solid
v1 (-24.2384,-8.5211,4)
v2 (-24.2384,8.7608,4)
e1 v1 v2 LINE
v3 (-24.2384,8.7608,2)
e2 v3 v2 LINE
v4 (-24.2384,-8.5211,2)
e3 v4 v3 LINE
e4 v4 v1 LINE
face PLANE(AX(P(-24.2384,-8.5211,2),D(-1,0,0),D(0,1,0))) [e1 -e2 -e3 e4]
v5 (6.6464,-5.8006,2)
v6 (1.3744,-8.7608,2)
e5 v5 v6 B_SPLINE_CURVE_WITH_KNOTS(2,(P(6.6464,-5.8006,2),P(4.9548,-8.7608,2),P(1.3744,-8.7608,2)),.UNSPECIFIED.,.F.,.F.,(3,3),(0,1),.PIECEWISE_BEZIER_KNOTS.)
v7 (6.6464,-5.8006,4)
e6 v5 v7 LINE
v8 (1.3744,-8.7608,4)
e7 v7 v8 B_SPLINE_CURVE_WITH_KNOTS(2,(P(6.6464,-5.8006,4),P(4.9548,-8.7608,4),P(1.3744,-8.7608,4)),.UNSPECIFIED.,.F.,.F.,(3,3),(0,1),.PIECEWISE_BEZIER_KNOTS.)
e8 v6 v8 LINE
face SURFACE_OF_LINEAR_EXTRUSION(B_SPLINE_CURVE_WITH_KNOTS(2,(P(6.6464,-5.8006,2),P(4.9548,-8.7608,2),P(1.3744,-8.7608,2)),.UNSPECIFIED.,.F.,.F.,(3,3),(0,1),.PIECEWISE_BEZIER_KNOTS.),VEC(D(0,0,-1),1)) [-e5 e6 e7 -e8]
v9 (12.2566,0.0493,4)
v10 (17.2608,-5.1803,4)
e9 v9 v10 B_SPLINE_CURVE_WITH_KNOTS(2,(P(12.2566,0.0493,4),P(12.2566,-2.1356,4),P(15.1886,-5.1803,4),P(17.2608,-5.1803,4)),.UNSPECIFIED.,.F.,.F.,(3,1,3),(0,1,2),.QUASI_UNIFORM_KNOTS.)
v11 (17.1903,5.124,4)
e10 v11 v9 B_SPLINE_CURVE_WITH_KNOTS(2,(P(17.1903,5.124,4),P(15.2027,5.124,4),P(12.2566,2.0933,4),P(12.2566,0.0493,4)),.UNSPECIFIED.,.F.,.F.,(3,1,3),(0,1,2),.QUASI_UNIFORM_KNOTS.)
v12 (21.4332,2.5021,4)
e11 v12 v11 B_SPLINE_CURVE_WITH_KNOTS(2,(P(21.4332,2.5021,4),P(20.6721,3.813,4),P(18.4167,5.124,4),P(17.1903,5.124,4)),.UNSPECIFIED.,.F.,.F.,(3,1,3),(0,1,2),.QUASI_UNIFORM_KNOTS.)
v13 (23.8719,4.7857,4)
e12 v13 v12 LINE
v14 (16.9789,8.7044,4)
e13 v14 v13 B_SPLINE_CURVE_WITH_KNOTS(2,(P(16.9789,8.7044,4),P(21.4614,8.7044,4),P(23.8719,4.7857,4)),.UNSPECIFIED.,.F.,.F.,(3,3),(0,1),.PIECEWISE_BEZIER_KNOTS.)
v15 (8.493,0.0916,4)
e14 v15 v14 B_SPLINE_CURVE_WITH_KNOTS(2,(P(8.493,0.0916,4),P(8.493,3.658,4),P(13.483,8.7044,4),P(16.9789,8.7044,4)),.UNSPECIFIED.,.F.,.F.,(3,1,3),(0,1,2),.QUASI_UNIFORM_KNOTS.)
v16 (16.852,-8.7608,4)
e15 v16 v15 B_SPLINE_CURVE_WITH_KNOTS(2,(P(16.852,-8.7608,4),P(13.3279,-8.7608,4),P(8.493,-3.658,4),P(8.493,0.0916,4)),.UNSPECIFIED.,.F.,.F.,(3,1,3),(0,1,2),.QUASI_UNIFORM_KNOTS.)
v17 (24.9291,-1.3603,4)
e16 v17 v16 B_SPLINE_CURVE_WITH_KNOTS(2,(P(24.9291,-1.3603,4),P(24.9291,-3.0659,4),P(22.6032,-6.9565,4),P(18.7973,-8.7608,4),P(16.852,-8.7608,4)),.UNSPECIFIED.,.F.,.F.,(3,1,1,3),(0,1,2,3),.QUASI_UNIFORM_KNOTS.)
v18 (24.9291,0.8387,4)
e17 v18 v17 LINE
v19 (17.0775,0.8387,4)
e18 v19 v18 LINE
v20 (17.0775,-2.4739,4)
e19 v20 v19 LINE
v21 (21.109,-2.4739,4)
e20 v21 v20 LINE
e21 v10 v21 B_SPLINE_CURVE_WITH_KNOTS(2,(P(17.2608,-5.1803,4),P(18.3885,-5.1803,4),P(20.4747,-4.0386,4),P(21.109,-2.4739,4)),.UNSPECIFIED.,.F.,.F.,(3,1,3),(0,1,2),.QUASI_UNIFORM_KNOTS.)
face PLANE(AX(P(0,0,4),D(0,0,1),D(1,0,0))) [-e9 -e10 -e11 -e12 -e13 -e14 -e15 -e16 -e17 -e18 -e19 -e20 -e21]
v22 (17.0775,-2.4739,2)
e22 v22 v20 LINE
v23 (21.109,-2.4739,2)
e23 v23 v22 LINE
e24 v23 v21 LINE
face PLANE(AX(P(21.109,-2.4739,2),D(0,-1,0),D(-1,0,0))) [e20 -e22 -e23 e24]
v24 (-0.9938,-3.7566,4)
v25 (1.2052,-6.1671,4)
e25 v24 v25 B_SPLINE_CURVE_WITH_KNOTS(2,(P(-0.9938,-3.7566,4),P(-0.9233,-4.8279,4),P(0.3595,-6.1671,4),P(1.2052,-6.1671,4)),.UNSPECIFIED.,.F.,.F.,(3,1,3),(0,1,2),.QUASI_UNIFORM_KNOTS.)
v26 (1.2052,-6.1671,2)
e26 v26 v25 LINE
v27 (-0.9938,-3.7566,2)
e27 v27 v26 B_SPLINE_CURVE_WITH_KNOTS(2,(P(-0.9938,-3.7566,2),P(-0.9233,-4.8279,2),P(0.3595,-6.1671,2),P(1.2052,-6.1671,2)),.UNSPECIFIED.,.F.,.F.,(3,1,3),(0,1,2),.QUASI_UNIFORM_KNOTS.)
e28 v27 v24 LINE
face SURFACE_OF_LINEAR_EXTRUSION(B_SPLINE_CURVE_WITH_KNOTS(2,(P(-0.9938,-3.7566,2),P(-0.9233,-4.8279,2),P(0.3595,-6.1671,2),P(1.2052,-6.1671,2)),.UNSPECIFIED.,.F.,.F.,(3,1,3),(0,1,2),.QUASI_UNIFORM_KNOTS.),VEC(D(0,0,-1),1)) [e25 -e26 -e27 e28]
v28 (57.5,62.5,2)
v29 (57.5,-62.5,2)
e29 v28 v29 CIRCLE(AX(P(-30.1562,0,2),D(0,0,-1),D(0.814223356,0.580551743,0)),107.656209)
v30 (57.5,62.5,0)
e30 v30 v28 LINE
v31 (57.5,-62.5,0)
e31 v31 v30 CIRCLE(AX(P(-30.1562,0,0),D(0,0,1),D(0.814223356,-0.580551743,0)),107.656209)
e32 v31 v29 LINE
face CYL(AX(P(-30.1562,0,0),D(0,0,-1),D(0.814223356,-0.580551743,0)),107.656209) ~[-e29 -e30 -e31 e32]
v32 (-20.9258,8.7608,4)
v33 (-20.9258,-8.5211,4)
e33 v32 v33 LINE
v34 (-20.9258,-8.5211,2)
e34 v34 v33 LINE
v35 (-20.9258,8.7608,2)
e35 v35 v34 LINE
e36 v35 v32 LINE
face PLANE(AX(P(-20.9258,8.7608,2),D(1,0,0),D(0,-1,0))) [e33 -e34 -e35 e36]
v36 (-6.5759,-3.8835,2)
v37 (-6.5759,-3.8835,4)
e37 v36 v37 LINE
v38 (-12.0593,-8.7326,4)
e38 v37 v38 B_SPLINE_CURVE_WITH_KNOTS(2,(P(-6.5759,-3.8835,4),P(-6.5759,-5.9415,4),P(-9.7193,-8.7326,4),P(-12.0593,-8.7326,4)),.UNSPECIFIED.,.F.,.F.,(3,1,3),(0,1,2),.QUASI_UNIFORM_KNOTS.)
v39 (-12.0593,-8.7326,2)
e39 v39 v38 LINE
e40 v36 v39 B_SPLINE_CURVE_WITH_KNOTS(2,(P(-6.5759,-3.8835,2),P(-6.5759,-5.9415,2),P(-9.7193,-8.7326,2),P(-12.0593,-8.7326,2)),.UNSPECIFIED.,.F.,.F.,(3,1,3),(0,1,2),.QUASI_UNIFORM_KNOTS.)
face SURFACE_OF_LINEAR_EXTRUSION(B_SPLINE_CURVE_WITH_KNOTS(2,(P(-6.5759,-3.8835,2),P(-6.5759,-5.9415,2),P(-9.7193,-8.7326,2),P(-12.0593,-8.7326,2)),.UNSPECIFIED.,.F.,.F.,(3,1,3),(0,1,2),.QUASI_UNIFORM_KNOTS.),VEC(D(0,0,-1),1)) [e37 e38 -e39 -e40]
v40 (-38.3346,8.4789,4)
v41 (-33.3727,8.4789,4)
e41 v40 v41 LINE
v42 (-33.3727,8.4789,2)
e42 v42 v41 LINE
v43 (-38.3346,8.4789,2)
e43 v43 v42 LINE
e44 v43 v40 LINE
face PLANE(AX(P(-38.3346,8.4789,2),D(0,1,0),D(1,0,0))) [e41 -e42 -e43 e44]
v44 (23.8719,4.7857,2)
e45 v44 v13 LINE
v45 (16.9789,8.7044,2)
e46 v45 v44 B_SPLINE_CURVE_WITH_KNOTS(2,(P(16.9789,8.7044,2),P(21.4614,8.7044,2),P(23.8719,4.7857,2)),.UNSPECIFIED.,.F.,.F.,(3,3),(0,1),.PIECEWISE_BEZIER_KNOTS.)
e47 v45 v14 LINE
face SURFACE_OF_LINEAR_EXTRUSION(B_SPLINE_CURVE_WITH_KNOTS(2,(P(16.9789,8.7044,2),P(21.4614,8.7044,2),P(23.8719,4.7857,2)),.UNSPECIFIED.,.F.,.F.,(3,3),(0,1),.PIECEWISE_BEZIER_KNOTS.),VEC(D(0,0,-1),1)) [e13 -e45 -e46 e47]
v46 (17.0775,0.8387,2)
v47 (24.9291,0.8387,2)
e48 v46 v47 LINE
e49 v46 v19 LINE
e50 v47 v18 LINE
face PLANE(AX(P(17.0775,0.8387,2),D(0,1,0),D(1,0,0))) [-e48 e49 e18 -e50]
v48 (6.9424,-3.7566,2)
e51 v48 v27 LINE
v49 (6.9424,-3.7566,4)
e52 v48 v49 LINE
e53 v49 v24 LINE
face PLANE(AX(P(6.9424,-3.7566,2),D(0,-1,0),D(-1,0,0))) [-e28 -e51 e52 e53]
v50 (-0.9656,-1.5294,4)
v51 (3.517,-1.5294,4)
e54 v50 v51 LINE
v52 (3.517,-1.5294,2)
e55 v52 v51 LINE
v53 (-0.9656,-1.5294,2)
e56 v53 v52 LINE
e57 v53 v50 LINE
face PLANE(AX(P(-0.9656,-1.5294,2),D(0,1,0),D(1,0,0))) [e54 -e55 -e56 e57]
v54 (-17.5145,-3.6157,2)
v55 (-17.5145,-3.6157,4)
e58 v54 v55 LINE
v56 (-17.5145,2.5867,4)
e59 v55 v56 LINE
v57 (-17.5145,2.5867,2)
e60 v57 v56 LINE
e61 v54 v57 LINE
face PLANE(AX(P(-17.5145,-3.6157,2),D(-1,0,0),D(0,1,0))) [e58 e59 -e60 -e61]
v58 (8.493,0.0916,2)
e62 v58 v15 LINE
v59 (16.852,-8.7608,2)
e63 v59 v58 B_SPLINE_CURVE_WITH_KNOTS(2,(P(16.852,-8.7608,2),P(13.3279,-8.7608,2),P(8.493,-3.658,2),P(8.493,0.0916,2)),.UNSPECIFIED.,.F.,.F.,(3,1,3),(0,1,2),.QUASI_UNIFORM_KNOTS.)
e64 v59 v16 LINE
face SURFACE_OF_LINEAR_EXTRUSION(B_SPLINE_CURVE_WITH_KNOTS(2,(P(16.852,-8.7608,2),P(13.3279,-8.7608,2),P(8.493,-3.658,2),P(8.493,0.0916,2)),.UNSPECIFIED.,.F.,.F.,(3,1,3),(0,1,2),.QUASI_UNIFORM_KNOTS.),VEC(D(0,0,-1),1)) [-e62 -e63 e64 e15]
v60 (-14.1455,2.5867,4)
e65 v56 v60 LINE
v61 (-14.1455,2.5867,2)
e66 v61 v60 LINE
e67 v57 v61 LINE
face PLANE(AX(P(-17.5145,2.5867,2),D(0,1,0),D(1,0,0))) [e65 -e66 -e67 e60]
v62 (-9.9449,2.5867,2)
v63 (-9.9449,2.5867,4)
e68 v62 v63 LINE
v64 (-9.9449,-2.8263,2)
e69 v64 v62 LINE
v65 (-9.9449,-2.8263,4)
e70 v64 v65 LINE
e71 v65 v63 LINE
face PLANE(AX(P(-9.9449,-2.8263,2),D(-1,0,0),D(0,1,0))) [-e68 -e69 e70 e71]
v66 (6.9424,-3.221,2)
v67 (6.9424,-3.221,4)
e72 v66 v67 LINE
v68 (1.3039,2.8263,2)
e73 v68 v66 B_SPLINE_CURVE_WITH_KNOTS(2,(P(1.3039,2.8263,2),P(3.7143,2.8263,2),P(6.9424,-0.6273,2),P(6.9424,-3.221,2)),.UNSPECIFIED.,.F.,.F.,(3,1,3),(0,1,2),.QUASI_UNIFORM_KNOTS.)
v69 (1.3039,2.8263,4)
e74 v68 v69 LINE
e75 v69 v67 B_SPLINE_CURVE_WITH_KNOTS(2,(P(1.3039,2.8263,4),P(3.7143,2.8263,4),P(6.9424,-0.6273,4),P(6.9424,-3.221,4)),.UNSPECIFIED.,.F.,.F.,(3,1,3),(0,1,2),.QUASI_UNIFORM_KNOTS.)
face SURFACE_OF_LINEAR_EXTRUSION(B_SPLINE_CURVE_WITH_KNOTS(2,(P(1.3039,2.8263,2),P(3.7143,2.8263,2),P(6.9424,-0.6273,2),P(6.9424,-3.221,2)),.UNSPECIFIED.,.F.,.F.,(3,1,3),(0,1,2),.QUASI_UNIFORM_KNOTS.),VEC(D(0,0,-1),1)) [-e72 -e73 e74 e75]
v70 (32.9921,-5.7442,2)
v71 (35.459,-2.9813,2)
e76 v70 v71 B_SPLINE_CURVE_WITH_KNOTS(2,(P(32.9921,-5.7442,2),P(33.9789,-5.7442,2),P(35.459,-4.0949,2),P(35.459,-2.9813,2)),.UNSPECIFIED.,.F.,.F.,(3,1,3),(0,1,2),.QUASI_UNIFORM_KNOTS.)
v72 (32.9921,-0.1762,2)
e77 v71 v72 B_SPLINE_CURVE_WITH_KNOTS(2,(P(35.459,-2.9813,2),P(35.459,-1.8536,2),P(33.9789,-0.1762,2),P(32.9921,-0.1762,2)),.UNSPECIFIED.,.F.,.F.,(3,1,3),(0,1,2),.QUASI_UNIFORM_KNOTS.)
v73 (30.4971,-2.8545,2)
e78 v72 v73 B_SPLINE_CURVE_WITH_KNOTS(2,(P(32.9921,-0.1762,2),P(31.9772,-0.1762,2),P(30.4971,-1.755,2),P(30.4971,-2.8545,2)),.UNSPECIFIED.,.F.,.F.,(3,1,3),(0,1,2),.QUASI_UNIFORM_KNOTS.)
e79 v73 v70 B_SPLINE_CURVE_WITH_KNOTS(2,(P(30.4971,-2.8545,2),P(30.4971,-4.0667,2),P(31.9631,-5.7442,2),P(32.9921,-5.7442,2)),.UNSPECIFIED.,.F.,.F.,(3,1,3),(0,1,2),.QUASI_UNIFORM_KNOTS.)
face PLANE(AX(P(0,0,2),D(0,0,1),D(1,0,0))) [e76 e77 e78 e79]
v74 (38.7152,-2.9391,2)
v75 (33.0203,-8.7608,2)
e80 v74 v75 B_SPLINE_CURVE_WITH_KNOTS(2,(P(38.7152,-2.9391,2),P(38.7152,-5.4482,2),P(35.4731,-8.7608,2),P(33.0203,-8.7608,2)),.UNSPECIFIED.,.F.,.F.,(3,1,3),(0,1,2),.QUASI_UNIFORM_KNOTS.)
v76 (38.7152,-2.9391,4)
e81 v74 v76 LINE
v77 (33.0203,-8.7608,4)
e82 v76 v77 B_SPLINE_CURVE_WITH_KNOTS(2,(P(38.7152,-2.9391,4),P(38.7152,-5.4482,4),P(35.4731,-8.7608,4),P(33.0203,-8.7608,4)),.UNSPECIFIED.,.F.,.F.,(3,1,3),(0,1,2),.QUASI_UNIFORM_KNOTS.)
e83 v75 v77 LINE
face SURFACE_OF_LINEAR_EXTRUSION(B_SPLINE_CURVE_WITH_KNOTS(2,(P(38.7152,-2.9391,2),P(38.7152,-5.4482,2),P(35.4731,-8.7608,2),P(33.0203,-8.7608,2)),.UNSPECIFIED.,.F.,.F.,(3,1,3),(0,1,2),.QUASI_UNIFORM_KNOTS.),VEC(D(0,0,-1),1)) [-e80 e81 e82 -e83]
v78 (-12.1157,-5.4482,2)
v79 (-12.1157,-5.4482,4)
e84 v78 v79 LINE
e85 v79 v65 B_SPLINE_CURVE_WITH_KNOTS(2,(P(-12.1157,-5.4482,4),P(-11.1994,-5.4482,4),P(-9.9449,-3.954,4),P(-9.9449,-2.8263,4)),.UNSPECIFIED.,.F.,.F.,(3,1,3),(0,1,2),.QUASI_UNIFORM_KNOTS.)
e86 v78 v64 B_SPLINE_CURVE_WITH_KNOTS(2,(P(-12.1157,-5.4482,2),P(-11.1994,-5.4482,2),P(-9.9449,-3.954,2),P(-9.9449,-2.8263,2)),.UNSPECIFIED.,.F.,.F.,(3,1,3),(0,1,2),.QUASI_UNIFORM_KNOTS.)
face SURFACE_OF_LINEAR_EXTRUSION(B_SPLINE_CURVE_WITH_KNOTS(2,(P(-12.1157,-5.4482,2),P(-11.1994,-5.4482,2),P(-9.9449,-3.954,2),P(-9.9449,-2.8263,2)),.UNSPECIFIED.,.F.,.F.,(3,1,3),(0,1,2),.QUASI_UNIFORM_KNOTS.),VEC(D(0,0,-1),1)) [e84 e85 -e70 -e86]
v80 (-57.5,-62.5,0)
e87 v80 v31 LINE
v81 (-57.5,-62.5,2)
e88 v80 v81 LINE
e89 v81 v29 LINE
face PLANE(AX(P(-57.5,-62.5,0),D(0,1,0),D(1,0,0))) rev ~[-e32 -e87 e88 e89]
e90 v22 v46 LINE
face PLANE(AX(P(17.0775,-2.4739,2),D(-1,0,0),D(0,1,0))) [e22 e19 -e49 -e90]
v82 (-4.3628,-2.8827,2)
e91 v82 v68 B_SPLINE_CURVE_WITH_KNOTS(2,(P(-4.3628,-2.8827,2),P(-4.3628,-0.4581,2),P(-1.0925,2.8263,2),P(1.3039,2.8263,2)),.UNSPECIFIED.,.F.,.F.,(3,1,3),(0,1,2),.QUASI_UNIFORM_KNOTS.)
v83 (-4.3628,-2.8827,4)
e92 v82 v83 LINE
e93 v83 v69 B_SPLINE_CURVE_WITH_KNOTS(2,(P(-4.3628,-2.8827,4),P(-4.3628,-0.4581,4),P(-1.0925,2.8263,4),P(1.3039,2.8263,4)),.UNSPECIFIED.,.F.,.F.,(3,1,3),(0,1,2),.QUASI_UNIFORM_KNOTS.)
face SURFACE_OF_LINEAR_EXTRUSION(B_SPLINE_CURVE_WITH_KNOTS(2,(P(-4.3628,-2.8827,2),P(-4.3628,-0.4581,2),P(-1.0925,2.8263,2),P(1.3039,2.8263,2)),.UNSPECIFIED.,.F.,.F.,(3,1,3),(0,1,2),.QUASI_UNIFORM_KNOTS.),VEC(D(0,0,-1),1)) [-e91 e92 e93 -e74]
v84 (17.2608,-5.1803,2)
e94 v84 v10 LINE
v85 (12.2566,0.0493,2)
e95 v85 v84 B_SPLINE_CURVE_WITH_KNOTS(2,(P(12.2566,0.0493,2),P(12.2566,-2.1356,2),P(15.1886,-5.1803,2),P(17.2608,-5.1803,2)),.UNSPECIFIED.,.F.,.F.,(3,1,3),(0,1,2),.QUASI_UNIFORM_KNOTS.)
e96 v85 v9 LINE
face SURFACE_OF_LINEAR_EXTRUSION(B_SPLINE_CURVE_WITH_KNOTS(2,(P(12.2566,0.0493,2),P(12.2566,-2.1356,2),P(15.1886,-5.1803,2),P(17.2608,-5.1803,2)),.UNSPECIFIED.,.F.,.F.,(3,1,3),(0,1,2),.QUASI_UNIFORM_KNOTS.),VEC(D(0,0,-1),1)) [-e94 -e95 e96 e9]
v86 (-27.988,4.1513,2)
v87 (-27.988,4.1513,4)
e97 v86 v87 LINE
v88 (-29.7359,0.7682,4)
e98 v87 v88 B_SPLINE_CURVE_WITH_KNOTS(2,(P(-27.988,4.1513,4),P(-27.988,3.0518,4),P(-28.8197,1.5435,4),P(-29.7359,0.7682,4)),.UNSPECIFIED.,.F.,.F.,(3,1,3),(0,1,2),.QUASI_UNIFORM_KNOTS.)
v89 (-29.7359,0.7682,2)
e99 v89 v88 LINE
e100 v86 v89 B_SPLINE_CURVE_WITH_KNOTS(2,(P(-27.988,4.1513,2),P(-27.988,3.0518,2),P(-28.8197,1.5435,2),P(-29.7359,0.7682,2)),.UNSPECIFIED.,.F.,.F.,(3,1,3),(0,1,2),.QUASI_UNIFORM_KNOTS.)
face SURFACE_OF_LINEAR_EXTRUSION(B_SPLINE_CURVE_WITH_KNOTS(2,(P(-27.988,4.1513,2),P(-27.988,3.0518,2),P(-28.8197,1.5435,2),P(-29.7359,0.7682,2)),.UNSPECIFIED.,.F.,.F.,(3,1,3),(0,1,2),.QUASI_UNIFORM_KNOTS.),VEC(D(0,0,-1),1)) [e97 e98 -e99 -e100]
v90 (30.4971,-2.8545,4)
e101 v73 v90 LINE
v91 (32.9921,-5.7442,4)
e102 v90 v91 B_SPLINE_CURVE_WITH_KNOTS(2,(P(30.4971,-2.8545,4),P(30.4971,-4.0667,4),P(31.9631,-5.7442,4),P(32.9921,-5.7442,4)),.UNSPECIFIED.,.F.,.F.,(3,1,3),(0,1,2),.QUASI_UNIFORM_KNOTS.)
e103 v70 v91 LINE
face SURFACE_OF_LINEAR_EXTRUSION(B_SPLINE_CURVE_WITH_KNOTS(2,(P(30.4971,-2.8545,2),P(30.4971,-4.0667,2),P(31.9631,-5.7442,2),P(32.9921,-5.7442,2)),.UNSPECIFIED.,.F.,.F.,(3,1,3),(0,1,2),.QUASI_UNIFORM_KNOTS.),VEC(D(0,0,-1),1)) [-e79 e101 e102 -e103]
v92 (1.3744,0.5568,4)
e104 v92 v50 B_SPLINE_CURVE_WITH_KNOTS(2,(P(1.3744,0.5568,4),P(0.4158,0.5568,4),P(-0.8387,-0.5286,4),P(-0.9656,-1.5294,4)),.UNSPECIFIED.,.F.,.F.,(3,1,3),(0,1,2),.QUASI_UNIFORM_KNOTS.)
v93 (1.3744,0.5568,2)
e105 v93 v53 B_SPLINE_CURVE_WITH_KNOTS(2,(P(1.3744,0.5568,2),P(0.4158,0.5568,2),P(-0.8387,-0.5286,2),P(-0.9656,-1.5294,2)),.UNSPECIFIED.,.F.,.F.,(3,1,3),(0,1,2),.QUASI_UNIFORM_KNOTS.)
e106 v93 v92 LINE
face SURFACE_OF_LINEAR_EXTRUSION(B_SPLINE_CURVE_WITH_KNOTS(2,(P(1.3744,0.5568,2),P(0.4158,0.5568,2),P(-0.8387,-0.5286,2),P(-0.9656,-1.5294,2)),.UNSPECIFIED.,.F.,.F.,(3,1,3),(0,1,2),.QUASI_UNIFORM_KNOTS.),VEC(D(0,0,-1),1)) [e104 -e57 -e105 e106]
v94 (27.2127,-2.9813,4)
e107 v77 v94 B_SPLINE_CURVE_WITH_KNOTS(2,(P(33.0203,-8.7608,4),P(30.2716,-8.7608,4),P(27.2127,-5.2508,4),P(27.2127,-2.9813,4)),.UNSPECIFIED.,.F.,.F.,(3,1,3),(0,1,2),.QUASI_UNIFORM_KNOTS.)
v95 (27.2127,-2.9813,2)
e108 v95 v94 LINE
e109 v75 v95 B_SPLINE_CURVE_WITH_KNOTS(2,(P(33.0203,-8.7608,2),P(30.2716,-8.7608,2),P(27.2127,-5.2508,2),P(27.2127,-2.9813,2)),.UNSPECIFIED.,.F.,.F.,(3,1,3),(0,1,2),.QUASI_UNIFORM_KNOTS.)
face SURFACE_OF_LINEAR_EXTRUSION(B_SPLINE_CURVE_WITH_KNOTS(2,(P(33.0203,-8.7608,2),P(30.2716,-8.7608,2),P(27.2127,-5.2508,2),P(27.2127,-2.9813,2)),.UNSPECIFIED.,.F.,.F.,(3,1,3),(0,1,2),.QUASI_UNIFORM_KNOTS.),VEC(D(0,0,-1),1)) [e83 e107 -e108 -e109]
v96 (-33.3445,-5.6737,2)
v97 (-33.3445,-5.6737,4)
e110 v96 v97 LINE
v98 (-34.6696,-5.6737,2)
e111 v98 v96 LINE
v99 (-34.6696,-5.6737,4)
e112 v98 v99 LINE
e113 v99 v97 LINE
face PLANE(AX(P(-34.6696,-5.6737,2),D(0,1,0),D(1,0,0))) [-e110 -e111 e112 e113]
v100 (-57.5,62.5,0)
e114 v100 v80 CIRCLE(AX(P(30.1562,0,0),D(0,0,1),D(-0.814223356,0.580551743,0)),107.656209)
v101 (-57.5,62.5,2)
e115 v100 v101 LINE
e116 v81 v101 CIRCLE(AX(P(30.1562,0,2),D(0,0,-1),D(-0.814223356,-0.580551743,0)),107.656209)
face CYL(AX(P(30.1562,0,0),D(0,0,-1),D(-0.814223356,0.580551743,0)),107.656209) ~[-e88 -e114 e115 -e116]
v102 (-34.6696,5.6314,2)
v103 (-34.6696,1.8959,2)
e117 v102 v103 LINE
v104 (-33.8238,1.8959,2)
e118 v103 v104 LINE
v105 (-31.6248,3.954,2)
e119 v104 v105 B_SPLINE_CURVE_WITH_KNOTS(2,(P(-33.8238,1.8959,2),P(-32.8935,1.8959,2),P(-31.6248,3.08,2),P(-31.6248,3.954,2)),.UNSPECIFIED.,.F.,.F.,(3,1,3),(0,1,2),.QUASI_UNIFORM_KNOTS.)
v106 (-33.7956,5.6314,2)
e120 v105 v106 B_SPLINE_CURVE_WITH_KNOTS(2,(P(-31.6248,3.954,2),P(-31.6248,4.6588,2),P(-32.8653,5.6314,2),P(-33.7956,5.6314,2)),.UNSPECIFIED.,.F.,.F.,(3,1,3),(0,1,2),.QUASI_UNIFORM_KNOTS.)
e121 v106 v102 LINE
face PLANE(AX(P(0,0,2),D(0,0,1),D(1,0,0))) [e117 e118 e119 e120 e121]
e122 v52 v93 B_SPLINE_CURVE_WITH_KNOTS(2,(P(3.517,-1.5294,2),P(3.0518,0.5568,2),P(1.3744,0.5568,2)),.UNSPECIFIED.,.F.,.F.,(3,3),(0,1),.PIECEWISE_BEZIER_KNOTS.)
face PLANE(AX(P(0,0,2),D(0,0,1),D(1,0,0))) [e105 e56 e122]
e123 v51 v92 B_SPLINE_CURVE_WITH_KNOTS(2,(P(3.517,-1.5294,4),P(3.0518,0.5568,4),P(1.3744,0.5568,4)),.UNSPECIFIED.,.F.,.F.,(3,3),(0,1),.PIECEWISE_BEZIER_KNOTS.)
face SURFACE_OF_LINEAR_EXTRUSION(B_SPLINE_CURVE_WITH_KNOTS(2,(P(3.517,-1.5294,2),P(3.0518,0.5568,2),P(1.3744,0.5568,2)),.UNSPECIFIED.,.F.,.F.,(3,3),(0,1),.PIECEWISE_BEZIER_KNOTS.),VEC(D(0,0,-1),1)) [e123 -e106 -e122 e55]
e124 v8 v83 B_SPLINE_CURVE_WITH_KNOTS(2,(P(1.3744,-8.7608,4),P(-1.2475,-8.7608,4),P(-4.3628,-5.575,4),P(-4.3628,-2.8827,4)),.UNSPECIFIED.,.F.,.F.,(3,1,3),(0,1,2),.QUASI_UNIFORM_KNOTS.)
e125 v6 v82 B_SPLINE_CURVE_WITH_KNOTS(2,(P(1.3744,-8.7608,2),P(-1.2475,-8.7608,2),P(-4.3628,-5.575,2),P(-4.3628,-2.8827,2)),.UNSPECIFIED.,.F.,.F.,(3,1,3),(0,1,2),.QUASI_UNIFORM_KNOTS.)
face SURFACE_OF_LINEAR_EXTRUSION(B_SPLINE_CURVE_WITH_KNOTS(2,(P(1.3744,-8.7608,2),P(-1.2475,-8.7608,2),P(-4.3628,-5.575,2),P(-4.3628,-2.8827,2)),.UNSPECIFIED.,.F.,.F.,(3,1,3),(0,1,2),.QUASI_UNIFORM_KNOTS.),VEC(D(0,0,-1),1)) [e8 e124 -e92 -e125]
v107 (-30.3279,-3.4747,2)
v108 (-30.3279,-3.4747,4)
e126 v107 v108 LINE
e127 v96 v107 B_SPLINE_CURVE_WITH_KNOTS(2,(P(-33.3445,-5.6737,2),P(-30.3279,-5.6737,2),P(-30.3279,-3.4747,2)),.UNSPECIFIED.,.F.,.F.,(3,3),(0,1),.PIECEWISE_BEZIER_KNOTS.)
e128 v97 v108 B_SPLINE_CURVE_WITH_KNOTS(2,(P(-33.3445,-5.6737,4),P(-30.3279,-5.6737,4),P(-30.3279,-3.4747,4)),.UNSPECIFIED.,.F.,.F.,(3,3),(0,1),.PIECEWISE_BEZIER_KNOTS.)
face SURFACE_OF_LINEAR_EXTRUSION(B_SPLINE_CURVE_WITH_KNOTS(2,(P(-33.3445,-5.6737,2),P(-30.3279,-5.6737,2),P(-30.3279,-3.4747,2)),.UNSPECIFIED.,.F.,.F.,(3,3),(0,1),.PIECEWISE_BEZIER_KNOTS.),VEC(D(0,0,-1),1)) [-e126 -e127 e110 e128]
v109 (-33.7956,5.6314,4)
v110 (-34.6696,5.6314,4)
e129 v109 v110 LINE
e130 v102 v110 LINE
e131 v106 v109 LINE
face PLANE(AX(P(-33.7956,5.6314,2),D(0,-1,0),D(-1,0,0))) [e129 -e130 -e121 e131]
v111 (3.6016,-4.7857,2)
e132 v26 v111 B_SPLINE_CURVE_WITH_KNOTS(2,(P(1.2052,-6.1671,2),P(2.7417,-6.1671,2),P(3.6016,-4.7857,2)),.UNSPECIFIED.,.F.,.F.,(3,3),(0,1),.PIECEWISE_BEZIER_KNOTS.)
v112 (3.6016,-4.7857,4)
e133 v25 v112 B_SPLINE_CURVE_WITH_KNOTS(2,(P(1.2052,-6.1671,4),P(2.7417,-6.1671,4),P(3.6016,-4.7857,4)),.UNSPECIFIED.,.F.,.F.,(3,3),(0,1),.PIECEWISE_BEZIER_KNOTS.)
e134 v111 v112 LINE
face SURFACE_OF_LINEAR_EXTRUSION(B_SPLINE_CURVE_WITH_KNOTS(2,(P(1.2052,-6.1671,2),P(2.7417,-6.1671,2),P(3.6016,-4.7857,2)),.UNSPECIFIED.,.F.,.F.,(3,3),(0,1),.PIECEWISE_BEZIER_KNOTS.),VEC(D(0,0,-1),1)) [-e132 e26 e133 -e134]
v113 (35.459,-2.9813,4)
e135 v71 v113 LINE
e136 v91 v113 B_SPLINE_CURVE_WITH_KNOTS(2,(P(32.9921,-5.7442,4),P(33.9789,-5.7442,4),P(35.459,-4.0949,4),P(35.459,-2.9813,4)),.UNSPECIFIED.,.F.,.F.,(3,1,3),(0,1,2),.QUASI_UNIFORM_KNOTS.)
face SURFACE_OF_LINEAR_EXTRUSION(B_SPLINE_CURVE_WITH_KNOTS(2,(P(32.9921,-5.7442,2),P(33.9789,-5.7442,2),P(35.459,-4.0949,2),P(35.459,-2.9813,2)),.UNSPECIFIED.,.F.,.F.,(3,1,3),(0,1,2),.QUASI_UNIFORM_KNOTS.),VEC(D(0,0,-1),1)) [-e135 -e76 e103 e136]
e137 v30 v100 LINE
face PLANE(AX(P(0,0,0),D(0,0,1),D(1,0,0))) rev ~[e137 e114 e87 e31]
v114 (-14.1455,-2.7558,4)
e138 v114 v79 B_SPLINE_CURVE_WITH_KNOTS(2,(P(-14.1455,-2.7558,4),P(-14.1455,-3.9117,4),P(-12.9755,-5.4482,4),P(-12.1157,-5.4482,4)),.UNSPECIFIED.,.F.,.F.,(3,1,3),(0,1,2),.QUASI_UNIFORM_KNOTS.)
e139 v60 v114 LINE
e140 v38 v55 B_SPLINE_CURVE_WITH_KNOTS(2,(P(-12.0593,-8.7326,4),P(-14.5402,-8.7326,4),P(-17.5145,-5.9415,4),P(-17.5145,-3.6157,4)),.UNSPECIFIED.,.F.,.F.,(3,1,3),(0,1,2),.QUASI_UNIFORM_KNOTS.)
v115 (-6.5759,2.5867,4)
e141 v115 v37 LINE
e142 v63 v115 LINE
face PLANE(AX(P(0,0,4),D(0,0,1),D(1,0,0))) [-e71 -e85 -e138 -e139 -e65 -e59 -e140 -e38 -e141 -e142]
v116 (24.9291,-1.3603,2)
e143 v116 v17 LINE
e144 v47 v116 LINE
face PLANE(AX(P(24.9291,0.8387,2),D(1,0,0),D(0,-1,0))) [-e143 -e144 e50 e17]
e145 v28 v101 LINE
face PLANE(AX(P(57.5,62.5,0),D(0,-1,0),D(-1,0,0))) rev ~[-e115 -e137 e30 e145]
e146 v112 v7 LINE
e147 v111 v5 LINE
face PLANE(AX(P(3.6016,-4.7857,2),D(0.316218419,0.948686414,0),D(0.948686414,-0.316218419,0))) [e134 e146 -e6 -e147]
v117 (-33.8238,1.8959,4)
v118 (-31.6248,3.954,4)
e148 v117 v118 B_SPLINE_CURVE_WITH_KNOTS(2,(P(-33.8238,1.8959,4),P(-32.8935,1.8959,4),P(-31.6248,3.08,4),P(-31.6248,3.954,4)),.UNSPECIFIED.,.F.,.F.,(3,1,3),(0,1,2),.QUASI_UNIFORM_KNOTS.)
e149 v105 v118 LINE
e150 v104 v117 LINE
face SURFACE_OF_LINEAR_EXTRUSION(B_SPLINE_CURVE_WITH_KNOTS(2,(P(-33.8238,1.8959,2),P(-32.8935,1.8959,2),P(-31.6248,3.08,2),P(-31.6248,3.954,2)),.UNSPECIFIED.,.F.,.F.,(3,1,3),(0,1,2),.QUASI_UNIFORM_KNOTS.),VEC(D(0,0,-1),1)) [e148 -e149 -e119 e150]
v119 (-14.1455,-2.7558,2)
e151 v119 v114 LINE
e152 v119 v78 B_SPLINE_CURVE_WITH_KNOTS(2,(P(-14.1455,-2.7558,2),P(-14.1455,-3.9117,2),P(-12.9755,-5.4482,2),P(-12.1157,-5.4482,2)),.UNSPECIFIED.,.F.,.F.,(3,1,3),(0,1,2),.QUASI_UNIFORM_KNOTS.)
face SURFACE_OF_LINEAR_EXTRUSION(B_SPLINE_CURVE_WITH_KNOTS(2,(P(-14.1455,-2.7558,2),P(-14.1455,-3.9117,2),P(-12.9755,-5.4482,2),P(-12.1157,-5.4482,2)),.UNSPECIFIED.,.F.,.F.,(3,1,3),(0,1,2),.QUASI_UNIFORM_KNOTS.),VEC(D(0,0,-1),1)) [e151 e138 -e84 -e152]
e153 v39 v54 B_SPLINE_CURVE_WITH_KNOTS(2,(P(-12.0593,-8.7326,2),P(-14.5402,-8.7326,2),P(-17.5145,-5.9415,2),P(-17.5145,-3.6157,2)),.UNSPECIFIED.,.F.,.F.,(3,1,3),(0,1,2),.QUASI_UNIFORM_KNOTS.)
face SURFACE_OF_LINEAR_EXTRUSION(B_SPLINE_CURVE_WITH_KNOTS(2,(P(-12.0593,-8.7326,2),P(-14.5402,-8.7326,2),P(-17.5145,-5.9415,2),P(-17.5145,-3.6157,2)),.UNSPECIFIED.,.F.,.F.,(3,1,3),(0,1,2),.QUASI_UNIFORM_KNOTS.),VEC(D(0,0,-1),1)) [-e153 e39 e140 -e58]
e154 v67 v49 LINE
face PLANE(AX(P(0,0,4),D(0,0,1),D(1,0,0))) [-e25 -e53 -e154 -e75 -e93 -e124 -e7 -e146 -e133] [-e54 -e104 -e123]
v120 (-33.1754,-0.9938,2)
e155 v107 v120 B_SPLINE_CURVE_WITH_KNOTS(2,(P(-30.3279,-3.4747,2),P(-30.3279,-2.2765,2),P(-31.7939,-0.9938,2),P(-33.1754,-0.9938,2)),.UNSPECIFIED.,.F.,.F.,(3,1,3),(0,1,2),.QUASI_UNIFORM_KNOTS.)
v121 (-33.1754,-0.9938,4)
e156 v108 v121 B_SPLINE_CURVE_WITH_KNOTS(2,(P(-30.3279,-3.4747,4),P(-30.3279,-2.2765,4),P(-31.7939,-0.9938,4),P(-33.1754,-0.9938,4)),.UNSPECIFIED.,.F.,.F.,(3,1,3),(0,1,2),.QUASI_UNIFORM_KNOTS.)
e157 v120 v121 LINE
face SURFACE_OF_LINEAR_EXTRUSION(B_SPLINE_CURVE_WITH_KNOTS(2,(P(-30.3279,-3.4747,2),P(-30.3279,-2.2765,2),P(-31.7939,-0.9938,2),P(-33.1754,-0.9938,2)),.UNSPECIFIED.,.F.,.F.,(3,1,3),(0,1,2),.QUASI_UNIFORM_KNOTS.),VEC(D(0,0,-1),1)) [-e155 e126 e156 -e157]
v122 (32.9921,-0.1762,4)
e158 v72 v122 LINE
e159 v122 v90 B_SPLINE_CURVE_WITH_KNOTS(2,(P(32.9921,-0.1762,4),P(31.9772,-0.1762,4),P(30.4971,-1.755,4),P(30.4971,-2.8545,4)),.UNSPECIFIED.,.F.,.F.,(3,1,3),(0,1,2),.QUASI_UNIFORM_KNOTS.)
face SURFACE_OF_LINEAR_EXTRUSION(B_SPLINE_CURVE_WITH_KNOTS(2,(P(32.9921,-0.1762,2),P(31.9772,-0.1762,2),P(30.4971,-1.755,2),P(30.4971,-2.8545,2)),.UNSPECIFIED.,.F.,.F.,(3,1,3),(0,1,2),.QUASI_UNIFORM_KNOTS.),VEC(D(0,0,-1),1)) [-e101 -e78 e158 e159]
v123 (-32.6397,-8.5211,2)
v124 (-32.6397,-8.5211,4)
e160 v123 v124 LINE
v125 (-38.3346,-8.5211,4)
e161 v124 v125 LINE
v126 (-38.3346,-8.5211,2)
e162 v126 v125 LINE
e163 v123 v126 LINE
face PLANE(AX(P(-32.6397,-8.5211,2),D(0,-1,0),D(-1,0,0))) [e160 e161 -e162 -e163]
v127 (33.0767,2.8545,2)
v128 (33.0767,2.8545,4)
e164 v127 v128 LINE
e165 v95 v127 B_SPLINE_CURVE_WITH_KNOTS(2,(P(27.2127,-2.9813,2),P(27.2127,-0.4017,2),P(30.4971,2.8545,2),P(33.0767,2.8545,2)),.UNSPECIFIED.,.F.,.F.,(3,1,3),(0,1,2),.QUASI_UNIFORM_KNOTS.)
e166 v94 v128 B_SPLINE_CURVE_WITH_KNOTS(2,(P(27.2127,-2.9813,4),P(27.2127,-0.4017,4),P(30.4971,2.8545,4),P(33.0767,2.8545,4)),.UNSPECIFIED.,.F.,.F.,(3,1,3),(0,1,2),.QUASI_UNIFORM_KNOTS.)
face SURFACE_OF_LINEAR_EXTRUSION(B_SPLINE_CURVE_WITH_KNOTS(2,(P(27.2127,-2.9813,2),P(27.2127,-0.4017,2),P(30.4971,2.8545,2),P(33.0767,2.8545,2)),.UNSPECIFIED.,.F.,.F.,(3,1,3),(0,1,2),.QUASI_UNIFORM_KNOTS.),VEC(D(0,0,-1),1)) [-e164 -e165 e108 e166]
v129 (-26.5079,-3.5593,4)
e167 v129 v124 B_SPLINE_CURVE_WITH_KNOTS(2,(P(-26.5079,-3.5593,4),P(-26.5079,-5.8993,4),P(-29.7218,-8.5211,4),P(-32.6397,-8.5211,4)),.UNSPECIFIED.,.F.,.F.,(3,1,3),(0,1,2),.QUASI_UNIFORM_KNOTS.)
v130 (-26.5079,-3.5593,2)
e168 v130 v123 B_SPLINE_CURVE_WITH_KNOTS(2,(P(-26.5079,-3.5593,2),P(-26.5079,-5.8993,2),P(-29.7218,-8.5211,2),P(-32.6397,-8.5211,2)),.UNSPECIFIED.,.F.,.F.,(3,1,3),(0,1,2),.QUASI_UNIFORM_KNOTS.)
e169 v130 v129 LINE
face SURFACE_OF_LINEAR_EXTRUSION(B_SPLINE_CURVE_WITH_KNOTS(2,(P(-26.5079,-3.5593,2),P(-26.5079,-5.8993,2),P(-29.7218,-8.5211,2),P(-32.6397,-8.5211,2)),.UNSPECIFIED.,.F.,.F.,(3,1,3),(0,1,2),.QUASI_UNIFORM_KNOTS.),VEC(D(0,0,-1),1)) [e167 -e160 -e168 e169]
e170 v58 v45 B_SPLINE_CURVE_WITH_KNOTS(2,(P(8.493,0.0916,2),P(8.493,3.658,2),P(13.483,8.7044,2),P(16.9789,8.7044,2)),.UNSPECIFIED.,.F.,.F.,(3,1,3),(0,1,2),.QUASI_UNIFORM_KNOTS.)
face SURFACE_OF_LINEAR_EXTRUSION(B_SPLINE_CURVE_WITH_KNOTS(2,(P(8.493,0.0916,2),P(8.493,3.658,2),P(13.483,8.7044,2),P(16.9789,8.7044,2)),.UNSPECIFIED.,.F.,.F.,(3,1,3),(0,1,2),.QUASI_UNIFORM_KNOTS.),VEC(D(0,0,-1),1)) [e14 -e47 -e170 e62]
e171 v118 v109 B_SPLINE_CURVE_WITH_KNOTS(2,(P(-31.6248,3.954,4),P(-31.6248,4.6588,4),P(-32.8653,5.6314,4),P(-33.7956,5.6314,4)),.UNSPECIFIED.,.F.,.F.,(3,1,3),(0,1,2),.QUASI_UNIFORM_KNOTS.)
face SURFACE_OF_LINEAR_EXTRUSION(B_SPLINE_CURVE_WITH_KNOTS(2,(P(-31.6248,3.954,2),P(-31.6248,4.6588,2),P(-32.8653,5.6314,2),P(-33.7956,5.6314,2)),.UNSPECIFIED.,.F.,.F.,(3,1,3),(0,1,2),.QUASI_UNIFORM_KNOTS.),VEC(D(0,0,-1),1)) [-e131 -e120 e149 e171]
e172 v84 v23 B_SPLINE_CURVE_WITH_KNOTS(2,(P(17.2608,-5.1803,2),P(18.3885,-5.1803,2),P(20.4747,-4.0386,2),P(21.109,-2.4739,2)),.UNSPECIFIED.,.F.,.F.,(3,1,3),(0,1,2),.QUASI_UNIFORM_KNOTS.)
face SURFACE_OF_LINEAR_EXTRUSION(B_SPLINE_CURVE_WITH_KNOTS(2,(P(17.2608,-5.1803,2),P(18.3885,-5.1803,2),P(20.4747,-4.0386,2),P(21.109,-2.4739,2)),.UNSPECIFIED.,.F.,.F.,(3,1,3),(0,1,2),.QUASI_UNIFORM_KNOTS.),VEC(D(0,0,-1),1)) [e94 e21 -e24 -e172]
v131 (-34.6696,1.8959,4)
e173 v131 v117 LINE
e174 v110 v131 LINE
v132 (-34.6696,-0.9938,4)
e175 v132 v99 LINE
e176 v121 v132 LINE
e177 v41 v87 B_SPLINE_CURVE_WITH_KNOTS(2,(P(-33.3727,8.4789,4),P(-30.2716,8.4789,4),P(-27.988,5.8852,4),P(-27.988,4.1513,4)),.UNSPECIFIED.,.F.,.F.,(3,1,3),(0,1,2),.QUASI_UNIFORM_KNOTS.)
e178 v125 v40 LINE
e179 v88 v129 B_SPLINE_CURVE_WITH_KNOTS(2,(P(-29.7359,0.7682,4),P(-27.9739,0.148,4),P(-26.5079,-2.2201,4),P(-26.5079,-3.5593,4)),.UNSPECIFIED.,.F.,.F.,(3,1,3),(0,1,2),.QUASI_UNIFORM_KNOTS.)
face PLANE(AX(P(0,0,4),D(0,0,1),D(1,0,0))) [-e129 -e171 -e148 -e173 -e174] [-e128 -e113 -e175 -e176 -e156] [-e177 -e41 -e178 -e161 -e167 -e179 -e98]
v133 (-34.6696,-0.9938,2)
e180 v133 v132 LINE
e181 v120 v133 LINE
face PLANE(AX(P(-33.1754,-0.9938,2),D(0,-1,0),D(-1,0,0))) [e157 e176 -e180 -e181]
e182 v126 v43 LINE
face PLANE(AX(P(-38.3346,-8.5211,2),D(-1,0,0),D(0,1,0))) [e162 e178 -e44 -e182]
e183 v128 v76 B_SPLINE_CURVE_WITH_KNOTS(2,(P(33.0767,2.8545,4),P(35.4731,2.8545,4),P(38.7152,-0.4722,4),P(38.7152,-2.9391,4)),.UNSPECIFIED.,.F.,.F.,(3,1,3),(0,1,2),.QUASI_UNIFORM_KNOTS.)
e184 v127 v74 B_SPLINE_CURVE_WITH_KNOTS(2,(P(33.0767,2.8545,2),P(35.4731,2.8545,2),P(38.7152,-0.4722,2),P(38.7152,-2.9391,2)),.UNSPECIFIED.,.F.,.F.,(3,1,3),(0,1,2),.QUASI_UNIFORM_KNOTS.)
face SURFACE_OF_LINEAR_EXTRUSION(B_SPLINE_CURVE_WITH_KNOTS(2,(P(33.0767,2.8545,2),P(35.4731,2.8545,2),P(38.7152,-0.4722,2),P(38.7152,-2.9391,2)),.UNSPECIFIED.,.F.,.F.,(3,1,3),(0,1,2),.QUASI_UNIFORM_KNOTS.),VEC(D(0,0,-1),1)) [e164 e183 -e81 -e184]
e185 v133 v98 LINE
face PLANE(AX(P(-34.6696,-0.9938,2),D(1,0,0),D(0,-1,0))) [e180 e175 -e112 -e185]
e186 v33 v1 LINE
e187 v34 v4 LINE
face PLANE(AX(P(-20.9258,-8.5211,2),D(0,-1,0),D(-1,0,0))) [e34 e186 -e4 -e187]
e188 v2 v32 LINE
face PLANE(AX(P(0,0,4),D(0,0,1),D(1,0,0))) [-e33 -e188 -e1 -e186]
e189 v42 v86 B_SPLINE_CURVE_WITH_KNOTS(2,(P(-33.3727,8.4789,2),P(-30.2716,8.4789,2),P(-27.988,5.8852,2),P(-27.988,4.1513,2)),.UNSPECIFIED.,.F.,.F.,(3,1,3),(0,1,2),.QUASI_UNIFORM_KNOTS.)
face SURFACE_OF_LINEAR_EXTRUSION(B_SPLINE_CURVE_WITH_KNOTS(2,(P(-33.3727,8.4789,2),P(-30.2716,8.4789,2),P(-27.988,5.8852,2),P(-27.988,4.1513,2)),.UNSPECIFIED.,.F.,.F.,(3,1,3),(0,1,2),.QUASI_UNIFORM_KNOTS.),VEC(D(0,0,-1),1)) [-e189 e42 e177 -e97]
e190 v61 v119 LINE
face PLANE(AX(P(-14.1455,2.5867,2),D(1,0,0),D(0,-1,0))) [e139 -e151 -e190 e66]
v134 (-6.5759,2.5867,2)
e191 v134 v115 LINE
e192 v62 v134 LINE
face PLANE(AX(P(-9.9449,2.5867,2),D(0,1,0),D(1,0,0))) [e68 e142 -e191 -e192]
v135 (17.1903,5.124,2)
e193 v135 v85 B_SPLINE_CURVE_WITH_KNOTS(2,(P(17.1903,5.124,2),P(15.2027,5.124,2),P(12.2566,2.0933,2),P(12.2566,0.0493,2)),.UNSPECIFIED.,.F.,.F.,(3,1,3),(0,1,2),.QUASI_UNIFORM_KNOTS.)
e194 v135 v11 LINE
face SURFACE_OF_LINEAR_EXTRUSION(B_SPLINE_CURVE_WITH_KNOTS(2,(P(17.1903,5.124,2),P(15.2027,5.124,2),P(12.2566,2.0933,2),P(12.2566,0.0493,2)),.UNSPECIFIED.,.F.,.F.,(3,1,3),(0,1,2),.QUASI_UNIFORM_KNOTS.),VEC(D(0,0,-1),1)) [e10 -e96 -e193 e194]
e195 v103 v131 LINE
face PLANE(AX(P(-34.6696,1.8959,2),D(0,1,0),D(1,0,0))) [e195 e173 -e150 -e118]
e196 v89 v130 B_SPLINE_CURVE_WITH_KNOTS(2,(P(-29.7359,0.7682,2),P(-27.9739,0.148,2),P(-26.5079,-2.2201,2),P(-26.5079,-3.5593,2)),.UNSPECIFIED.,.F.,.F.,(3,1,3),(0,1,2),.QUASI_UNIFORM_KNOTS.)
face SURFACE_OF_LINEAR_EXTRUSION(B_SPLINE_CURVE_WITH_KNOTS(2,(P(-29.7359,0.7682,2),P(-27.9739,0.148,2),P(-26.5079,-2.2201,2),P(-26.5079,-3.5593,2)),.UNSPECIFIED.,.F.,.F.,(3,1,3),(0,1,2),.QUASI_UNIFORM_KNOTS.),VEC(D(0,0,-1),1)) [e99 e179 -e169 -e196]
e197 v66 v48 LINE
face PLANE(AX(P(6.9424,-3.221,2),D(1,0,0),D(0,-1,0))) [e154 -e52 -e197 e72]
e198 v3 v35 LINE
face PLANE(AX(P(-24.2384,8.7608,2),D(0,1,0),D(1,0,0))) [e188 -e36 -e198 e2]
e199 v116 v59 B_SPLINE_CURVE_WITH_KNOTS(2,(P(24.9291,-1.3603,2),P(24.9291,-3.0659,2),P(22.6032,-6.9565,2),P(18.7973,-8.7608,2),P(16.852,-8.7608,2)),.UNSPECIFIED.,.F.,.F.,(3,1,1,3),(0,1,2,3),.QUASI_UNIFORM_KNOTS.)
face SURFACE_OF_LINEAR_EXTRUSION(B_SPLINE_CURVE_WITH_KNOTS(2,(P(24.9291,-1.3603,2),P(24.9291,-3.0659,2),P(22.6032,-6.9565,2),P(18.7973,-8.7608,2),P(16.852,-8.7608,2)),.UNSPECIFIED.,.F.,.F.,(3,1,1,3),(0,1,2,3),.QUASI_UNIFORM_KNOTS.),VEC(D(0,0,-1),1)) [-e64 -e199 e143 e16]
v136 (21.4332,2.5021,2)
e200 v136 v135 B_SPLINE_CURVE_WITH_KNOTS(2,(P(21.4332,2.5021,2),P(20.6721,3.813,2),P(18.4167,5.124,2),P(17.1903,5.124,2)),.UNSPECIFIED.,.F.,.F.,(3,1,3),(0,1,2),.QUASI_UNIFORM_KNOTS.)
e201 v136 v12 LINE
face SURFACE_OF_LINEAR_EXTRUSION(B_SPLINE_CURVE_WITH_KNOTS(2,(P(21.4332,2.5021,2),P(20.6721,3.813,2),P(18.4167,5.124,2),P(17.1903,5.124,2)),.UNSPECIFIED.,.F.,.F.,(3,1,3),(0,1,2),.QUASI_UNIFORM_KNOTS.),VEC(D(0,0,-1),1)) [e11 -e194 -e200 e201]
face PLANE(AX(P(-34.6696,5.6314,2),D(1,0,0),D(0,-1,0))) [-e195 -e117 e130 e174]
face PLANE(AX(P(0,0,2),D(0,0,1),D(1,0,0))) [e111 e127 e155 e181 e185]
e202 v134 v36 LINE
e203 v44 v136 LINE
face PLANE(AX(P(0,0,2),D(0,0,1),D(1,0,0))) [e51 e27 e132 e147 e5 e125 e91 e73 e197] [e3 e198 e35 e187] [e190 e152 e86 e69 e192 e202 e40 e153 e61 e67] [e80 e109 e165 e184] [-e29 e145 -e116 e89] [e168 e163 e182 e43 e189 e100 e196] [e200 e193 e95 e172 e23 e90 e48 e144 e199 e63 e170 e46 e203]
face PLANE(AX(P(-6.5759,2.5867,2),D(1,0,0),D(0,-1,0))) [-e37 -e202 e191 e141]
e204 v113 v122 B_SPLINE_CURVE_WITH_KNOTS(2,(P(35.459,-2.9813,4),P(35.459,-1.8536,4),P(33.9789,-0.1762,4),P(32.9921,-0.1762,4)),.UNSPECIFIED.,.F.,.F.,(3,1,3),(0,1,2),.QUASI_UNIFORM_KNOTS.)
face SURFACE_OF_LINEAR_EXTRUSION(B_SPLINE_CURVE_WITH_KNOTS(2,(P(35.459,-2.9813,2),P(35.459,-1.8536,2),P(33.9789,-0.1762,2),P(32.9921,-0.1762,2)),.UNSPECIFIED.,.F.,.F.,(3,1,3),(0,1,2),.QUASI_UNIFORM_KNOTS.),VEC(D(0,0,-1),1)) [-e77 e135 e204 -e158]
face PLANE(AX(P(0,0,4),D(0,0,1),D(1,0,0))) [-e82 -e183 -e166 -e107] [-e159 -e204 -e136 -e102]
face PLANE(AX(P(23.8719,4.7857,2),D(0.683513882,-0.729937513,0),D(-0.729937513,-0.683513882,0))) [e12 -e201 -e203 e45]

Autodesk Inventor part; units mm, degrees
ref_plane "YZ Plane" through (0, 0, 0) normal (1, 0, 0) x (0, 1, 0)
ref_plane "XZ Plane" through (0, 0, 0) normal (0, 1, 0) x (-1, 0, 0)
ref_plane "XY Plane" through (0, 0, 0) normal (0, 0, 1) x (1, 0, 0)
sketch "Sketch1" plane through (0, 0, 0) normal (0, 0, 1) x (1, 0, 0)
  line L0 (57.5, 62.5) -> (-57.5, 62.5)
  line L1 (-57.5, 62.5) -> (-57.5, -62.5)
  line L2 (-57.5, -62.5) -> (57.5, -62.5)
  line L3 (57.5, -62.5) -> (57.5, 62.5)
  line L4 (57.5, 62.5) -> (-57.5, -62.5) construction
  line L5 (-57.5, 62.5) -> (57.5, -62.5) construction
  line L6 (57.5, 0) -> (77.5, 0)
  line L7 (-57.5, 0) -> (-77.5, 0)
  arc A0 (-57.5, 62.5) -> (-57.5, -62.5) centre (30.1562, 0) ccw
  arc A1 (57.5, -62.5) -> (57.5, 62.5) centre (-30.1562, 0) ccw
  point P0 (0, 0)
  dimension "d0" = 115
  dimension "d1" = 125
  dimension "d2" = 20
  dimension "d3" = 20
extrude "Extrusion1" add sketch "Sketch1" along normal blind 2
sketch "Sketch2" plane through (0, 0, 2) normal (0, 0, 1) x (1, 0, 0)
  line L0 (-40.012, 8.7608) -> (40.012, 8.7608) construction
  line L1 (40.012, 8.7608) -> (40.012, -8.7608) construction
  line L2 (40.012, -8.7608) -> (-40.012, -8.7608) construction
  line L3 (-40.012, -8.7608) -> (-40.012, 8.7608) construction
  line L4 (-38.3346, 8.4789) -> (-33.3727, 8.4789)
  spline S0 degree 2 poles (-33.3727, 8.4789) (-30.2716, 8.4789) (-27.988, 5.8852) (-27.988, 4.1513) knots 0 0 0 1 2 2 2
  spline S1 degree 2 poles (-27.988, 4.1513) (-27.988, 3.0518) (-28.8197, 1.5435) (-29.7359, 0.7682) knots 0 0 0 1 2 2 2
  spline S2 degree 2 poles (-29.7359, 0.7682) (-27.9739, 0.148) (-26.5079, -2.2201) (-26.5079, -3.5593) knots 0 0 0 1 2 2 2
  spline S3 degree 2 poles (-26.5079, -3.5593) (-26.5079, -5.8993) (-29.7218, -8.5211) (-32.6397, -8.5211) knots 0 0 0 1 2 2 2
  line L5 (-32.6397, -8.5211) -> (-38.3346, -8.5211)
  line L6 (-38.3346, -8.5211) -> (-38.3346, 8.4789)
  line L7 (-34.6696, -0.9938) -> (-34.6696, -5.6737)
  line L8 (-34.6696, -5.6737) -> (-33.3445, -5.6737)
  spline S4 degree 2 poles (-33.3445, -5.6737) (-30.3279, -5.6737) (-30.3279, -3.4747) knots 0 0 0 1 1 1
  spline S5 degree 2 poles (-30.3279, -3.4747) (-30.3279, -2.2765) (-31.7939, -0.9938) (-33.1754, -0.9938) knots 0 0 0 1 2 2 2
  line L9 (-33.1754, -0.9938) -> (-34.6696, -0.9938)
  line L10 (-34.6696, 5.6314) -> (-34.6696, 1.8959)
  line L11 (-34.6696, 1.8959) -> (-33.8238, 1.8959)
  spline S6 degree 2 poles (-33.8238, 1.8959) (-32.8935, 1.8959) (-31.6248, 3.08) (-31.6248, 3.954) knots 0 0 0 1 2 2 2
  spline S7 degree 2 poles (-31.6248, 3.954) (-31.6248, 4.6588) (-32.8653, 5.6314) (-33.7956, 5.6314) knots 0 0 0 1 2 2 2
  line L12 (-33.7956, 5.6314) -> (-34.6696, 5.6314)
  line L13 (-24.2384, 8.7608) -> (-20.9258, 8.7608)
  line L14 (-20.9258, 8.7608) -> (-20.9258, -8.5211)
  line L15 (-20.9258, -8.5211) -> (-24.2384, -8.5211)
  line L16 (-24.2384, -8.5211) -> (-24.2384, 8.7608)
  line L17 (-17.5145, 2.5867) -> (-14.1455, 2.5867)
  line L18 (-14.1455, 2.5867) -> (-14.1455, -2.7558)
  spline S8 degree 2 poles (-14.1455, -2.7558) (-14.1455, -3.9117) (-12.9755, -5.4482) (-12.1157, -5.4482) knots 0 0 0 1 2 2 2
  spline S9 degree 2 poles (-12.1157, -5.4482) (-11.1994, -5.4482) (-9.9449, -3.954) (-9.9449, -2.8263) knots 0 0 0 1 2 2 2
  line L19 (-9.9449, -2.8263) -> (-9.9449, 2.5867)
  line L20 (-9.9449, 2.5867) -> (-6.5759, 2.5867)
  line L21 (-6.5759, 2.5867) -> (-6.5759, -3.8835)
  spline S10 degree 2 poles (-6.5759, -3.8835) (-6.5759, -5.9415) (-9.7193, -8.7326) (-12.0593, -8.7326) knots 0 0 0 1 2 2 2
  spline S11 degree 2 poles (-12.0593, -8.7326) (-14.5402, -8.7326) (-17.5145, -5.9415) (-17.5145, -3.6157) knots 0 0 0 1 2 2 2
  line L22 (-17.5145, -3.6157) -> (-17.5145, 2.5867)
  line L23 (6.9424, -3.7566) -> (-0.9938, -3.7566)
  spline S12 degree 2 poles (-0.9938, -3.7566) (-0.9233, -4.8279) (0.3595, -6.1671) (1.2052, -6.1671) knots 0 0 0 1 2 2 2
  spline S13 degree 2 poles (1.2052, -6.1671) (2.7417, -6.1671) (3.6016, -4.7857) knots 0 0 0 1 1 1
  line L24 (3.6016, -4.7857) -> (6.6464, -5.8006)
  spline S14 degree 2 poles (6.6464, -5.8006) (4.9548, -8.7608) (1.3744, -8.7608) knots 0 0 0 1 1 1
  spline S15 degree 2 poles (1.3744, -8.7608) (-1.2475, -8.7608) (-4.3628, -5.575) (-4.3628, -2.8827) knots 0 0 0 1 2 2 2
  spline S16 degree 2 poles (-4.3628, -2.8827) (-4.3628, -0.4581) (-1.0925, 2.8263) (1.3039, 2.8263) knots 0 0 0 1 2 2 2
  spline S17 degree 2 poles (1.3039, 2.8263) (3.7143, 2.8263) (6.9424, -0.6273) (6.9424, -3.221) knots 0 0 0 1 2 2 2
  line L25 (6.9424, -3.221) -> (6.9424, -3.7566)
  line L26 (-0.9656, -1.5294) -> (3.517, -1.5294)
  spline S18 degree 2 poles (3.517, -1.5294) (3.0518, 0.5568) (1.3744, 0.5568) knots 0 0 0 1 1 1
  spline S19 degree 2 poles (1.3744, 0.5568) (0.4158, 0.5568) (-0.8387, -0.5286) (-0.9656, -1.5294) knots 0 0 0 1 2 2 2
  line L27 (23.8719, 4.7857) -> (21.4332, 2.5021)
  spline S20 degree 2 poles (21.4332, 2.5021) (20.6721, 3.813) (18.4167, 5.124) (17.1903, 5.124) knots 0 0 0 1 2 2 2
  spline S21 degree 2 poles (17.1903, 5.124) (15.2027, 5.124) (12.2566, 2.0933) (12.2566, 0.0493) knots 0 0 0 1 2 2 2
  spline S22 degree 2 poles (12.2566, 0.0493) (12.2566, -2.1356) (15.1886, -5.1803) (17.2608, -5.1803) knots 0 0 0 1 2 2 2
  spline S23 degree 2 poles (17.2608, -5.1803) (18.3885, -5.1803) (20.4747, -4.0386) (21.109, -2.4739) knots 0 0 0 1 2 2 2
  line L28 (21.109, -2.4739) -> (17.0775, -2.4739)
  line L29 (17.0775, -2.4739) -> (17.0775, 0.8387)
  line L30 (17.0775, 0.8387) -> (24.9291, 0.8387)
  line L31 (24.9291, 0.8387) -> (24.9291, -1.3603)
  spline S24 degree 2 poles (24.9291, -1.3603) (24.9291, -3.0659) (22.6032, -6.9565) (18.7973, -8.7608) (16.852, -8.7608) knots 0 0 0 1 2 3 3 3
  spline S25 degree 2 poles (16.852, -8.7608) (13.3279, -8.7608) (8.493, -3.658) (8.493, 0.0916) knots 0 0 0 1 2 2 2
  spline S26 degree 2 poles (8.493, 0.0916) (8.493, 3.658) (13.483, 8.7044) (16.9789, 8.7044) knots 0 0 0 1 2 2 2
  spline S27 degree 2 poles (16.9789, 8.7044) (21.4614, 8.7044) (23.8719, 4.7857) knots 0 0 0 1 1 1
  spline S28 degree 2 poles (27.2127, -2.9813) (27.2127, -0.4017) (30.4971, 2.8545) (33.0767, 2.8545) knots 0 0 0 1 2 2 2
  spline S29 degree 2 poles (33.0767, 2.8545) (35.4731, 2.8545) (38.7152, -0.4722) (38.7152, -2.9391) knots 0 0 0 1 2 2 2
  spline S30 degree 2 poles (38.7152, -2.9391) (38.7152, -5.4482) (35.4731, -8.7608) (33.0203, -8.7608) knots 0 0 0 1 2 2 2
  spline S31 degree 2 poles (33.0203, -8.7608) (30.2716, -8.7608) (27.2127, -5.2508) (27.2127, -2.9813) knots 0 0 0 1 2 2 2
  spline S32 degree 2 poles (35.459, -2.9813) (35.459, -1.8536) (33.9789, -0.1762) (32.9921, -0.1762) knots 0 0 0 1 2 2 2
  spline S33 degree 2 poles (32.9921, -0.1762) (31.9772, -0.1762) (30.4971, -1.755) (30.4971, -2.8545) knots 0 0 0 1 2 2 2
  spline S34 degree 2 poles (30.4971, -2.8545) (30.4971, -4.0667) (31.9631, -5.7442) (32.9921, -5.7442) knots 0 0 0 1 2 2 2
  spline S35 degree 2 poles (32.9921, -5.7442) (33.9789, -5.7442) (35.459, -4.0949) (35.459, -2.9813) knots 0 0 0 1 2 2 2
  point P0 (0, 0)
extrude "Extrusion2" add sketch "Sketch2" along normal blind 2
sketch "Sketch3" plane through (-38.3346, -8.5211, 2) normal (-1, 0, 0) x (0, 0, 1)
  point P0 (-2, 8.5211)
properties part number "BlueGo"
